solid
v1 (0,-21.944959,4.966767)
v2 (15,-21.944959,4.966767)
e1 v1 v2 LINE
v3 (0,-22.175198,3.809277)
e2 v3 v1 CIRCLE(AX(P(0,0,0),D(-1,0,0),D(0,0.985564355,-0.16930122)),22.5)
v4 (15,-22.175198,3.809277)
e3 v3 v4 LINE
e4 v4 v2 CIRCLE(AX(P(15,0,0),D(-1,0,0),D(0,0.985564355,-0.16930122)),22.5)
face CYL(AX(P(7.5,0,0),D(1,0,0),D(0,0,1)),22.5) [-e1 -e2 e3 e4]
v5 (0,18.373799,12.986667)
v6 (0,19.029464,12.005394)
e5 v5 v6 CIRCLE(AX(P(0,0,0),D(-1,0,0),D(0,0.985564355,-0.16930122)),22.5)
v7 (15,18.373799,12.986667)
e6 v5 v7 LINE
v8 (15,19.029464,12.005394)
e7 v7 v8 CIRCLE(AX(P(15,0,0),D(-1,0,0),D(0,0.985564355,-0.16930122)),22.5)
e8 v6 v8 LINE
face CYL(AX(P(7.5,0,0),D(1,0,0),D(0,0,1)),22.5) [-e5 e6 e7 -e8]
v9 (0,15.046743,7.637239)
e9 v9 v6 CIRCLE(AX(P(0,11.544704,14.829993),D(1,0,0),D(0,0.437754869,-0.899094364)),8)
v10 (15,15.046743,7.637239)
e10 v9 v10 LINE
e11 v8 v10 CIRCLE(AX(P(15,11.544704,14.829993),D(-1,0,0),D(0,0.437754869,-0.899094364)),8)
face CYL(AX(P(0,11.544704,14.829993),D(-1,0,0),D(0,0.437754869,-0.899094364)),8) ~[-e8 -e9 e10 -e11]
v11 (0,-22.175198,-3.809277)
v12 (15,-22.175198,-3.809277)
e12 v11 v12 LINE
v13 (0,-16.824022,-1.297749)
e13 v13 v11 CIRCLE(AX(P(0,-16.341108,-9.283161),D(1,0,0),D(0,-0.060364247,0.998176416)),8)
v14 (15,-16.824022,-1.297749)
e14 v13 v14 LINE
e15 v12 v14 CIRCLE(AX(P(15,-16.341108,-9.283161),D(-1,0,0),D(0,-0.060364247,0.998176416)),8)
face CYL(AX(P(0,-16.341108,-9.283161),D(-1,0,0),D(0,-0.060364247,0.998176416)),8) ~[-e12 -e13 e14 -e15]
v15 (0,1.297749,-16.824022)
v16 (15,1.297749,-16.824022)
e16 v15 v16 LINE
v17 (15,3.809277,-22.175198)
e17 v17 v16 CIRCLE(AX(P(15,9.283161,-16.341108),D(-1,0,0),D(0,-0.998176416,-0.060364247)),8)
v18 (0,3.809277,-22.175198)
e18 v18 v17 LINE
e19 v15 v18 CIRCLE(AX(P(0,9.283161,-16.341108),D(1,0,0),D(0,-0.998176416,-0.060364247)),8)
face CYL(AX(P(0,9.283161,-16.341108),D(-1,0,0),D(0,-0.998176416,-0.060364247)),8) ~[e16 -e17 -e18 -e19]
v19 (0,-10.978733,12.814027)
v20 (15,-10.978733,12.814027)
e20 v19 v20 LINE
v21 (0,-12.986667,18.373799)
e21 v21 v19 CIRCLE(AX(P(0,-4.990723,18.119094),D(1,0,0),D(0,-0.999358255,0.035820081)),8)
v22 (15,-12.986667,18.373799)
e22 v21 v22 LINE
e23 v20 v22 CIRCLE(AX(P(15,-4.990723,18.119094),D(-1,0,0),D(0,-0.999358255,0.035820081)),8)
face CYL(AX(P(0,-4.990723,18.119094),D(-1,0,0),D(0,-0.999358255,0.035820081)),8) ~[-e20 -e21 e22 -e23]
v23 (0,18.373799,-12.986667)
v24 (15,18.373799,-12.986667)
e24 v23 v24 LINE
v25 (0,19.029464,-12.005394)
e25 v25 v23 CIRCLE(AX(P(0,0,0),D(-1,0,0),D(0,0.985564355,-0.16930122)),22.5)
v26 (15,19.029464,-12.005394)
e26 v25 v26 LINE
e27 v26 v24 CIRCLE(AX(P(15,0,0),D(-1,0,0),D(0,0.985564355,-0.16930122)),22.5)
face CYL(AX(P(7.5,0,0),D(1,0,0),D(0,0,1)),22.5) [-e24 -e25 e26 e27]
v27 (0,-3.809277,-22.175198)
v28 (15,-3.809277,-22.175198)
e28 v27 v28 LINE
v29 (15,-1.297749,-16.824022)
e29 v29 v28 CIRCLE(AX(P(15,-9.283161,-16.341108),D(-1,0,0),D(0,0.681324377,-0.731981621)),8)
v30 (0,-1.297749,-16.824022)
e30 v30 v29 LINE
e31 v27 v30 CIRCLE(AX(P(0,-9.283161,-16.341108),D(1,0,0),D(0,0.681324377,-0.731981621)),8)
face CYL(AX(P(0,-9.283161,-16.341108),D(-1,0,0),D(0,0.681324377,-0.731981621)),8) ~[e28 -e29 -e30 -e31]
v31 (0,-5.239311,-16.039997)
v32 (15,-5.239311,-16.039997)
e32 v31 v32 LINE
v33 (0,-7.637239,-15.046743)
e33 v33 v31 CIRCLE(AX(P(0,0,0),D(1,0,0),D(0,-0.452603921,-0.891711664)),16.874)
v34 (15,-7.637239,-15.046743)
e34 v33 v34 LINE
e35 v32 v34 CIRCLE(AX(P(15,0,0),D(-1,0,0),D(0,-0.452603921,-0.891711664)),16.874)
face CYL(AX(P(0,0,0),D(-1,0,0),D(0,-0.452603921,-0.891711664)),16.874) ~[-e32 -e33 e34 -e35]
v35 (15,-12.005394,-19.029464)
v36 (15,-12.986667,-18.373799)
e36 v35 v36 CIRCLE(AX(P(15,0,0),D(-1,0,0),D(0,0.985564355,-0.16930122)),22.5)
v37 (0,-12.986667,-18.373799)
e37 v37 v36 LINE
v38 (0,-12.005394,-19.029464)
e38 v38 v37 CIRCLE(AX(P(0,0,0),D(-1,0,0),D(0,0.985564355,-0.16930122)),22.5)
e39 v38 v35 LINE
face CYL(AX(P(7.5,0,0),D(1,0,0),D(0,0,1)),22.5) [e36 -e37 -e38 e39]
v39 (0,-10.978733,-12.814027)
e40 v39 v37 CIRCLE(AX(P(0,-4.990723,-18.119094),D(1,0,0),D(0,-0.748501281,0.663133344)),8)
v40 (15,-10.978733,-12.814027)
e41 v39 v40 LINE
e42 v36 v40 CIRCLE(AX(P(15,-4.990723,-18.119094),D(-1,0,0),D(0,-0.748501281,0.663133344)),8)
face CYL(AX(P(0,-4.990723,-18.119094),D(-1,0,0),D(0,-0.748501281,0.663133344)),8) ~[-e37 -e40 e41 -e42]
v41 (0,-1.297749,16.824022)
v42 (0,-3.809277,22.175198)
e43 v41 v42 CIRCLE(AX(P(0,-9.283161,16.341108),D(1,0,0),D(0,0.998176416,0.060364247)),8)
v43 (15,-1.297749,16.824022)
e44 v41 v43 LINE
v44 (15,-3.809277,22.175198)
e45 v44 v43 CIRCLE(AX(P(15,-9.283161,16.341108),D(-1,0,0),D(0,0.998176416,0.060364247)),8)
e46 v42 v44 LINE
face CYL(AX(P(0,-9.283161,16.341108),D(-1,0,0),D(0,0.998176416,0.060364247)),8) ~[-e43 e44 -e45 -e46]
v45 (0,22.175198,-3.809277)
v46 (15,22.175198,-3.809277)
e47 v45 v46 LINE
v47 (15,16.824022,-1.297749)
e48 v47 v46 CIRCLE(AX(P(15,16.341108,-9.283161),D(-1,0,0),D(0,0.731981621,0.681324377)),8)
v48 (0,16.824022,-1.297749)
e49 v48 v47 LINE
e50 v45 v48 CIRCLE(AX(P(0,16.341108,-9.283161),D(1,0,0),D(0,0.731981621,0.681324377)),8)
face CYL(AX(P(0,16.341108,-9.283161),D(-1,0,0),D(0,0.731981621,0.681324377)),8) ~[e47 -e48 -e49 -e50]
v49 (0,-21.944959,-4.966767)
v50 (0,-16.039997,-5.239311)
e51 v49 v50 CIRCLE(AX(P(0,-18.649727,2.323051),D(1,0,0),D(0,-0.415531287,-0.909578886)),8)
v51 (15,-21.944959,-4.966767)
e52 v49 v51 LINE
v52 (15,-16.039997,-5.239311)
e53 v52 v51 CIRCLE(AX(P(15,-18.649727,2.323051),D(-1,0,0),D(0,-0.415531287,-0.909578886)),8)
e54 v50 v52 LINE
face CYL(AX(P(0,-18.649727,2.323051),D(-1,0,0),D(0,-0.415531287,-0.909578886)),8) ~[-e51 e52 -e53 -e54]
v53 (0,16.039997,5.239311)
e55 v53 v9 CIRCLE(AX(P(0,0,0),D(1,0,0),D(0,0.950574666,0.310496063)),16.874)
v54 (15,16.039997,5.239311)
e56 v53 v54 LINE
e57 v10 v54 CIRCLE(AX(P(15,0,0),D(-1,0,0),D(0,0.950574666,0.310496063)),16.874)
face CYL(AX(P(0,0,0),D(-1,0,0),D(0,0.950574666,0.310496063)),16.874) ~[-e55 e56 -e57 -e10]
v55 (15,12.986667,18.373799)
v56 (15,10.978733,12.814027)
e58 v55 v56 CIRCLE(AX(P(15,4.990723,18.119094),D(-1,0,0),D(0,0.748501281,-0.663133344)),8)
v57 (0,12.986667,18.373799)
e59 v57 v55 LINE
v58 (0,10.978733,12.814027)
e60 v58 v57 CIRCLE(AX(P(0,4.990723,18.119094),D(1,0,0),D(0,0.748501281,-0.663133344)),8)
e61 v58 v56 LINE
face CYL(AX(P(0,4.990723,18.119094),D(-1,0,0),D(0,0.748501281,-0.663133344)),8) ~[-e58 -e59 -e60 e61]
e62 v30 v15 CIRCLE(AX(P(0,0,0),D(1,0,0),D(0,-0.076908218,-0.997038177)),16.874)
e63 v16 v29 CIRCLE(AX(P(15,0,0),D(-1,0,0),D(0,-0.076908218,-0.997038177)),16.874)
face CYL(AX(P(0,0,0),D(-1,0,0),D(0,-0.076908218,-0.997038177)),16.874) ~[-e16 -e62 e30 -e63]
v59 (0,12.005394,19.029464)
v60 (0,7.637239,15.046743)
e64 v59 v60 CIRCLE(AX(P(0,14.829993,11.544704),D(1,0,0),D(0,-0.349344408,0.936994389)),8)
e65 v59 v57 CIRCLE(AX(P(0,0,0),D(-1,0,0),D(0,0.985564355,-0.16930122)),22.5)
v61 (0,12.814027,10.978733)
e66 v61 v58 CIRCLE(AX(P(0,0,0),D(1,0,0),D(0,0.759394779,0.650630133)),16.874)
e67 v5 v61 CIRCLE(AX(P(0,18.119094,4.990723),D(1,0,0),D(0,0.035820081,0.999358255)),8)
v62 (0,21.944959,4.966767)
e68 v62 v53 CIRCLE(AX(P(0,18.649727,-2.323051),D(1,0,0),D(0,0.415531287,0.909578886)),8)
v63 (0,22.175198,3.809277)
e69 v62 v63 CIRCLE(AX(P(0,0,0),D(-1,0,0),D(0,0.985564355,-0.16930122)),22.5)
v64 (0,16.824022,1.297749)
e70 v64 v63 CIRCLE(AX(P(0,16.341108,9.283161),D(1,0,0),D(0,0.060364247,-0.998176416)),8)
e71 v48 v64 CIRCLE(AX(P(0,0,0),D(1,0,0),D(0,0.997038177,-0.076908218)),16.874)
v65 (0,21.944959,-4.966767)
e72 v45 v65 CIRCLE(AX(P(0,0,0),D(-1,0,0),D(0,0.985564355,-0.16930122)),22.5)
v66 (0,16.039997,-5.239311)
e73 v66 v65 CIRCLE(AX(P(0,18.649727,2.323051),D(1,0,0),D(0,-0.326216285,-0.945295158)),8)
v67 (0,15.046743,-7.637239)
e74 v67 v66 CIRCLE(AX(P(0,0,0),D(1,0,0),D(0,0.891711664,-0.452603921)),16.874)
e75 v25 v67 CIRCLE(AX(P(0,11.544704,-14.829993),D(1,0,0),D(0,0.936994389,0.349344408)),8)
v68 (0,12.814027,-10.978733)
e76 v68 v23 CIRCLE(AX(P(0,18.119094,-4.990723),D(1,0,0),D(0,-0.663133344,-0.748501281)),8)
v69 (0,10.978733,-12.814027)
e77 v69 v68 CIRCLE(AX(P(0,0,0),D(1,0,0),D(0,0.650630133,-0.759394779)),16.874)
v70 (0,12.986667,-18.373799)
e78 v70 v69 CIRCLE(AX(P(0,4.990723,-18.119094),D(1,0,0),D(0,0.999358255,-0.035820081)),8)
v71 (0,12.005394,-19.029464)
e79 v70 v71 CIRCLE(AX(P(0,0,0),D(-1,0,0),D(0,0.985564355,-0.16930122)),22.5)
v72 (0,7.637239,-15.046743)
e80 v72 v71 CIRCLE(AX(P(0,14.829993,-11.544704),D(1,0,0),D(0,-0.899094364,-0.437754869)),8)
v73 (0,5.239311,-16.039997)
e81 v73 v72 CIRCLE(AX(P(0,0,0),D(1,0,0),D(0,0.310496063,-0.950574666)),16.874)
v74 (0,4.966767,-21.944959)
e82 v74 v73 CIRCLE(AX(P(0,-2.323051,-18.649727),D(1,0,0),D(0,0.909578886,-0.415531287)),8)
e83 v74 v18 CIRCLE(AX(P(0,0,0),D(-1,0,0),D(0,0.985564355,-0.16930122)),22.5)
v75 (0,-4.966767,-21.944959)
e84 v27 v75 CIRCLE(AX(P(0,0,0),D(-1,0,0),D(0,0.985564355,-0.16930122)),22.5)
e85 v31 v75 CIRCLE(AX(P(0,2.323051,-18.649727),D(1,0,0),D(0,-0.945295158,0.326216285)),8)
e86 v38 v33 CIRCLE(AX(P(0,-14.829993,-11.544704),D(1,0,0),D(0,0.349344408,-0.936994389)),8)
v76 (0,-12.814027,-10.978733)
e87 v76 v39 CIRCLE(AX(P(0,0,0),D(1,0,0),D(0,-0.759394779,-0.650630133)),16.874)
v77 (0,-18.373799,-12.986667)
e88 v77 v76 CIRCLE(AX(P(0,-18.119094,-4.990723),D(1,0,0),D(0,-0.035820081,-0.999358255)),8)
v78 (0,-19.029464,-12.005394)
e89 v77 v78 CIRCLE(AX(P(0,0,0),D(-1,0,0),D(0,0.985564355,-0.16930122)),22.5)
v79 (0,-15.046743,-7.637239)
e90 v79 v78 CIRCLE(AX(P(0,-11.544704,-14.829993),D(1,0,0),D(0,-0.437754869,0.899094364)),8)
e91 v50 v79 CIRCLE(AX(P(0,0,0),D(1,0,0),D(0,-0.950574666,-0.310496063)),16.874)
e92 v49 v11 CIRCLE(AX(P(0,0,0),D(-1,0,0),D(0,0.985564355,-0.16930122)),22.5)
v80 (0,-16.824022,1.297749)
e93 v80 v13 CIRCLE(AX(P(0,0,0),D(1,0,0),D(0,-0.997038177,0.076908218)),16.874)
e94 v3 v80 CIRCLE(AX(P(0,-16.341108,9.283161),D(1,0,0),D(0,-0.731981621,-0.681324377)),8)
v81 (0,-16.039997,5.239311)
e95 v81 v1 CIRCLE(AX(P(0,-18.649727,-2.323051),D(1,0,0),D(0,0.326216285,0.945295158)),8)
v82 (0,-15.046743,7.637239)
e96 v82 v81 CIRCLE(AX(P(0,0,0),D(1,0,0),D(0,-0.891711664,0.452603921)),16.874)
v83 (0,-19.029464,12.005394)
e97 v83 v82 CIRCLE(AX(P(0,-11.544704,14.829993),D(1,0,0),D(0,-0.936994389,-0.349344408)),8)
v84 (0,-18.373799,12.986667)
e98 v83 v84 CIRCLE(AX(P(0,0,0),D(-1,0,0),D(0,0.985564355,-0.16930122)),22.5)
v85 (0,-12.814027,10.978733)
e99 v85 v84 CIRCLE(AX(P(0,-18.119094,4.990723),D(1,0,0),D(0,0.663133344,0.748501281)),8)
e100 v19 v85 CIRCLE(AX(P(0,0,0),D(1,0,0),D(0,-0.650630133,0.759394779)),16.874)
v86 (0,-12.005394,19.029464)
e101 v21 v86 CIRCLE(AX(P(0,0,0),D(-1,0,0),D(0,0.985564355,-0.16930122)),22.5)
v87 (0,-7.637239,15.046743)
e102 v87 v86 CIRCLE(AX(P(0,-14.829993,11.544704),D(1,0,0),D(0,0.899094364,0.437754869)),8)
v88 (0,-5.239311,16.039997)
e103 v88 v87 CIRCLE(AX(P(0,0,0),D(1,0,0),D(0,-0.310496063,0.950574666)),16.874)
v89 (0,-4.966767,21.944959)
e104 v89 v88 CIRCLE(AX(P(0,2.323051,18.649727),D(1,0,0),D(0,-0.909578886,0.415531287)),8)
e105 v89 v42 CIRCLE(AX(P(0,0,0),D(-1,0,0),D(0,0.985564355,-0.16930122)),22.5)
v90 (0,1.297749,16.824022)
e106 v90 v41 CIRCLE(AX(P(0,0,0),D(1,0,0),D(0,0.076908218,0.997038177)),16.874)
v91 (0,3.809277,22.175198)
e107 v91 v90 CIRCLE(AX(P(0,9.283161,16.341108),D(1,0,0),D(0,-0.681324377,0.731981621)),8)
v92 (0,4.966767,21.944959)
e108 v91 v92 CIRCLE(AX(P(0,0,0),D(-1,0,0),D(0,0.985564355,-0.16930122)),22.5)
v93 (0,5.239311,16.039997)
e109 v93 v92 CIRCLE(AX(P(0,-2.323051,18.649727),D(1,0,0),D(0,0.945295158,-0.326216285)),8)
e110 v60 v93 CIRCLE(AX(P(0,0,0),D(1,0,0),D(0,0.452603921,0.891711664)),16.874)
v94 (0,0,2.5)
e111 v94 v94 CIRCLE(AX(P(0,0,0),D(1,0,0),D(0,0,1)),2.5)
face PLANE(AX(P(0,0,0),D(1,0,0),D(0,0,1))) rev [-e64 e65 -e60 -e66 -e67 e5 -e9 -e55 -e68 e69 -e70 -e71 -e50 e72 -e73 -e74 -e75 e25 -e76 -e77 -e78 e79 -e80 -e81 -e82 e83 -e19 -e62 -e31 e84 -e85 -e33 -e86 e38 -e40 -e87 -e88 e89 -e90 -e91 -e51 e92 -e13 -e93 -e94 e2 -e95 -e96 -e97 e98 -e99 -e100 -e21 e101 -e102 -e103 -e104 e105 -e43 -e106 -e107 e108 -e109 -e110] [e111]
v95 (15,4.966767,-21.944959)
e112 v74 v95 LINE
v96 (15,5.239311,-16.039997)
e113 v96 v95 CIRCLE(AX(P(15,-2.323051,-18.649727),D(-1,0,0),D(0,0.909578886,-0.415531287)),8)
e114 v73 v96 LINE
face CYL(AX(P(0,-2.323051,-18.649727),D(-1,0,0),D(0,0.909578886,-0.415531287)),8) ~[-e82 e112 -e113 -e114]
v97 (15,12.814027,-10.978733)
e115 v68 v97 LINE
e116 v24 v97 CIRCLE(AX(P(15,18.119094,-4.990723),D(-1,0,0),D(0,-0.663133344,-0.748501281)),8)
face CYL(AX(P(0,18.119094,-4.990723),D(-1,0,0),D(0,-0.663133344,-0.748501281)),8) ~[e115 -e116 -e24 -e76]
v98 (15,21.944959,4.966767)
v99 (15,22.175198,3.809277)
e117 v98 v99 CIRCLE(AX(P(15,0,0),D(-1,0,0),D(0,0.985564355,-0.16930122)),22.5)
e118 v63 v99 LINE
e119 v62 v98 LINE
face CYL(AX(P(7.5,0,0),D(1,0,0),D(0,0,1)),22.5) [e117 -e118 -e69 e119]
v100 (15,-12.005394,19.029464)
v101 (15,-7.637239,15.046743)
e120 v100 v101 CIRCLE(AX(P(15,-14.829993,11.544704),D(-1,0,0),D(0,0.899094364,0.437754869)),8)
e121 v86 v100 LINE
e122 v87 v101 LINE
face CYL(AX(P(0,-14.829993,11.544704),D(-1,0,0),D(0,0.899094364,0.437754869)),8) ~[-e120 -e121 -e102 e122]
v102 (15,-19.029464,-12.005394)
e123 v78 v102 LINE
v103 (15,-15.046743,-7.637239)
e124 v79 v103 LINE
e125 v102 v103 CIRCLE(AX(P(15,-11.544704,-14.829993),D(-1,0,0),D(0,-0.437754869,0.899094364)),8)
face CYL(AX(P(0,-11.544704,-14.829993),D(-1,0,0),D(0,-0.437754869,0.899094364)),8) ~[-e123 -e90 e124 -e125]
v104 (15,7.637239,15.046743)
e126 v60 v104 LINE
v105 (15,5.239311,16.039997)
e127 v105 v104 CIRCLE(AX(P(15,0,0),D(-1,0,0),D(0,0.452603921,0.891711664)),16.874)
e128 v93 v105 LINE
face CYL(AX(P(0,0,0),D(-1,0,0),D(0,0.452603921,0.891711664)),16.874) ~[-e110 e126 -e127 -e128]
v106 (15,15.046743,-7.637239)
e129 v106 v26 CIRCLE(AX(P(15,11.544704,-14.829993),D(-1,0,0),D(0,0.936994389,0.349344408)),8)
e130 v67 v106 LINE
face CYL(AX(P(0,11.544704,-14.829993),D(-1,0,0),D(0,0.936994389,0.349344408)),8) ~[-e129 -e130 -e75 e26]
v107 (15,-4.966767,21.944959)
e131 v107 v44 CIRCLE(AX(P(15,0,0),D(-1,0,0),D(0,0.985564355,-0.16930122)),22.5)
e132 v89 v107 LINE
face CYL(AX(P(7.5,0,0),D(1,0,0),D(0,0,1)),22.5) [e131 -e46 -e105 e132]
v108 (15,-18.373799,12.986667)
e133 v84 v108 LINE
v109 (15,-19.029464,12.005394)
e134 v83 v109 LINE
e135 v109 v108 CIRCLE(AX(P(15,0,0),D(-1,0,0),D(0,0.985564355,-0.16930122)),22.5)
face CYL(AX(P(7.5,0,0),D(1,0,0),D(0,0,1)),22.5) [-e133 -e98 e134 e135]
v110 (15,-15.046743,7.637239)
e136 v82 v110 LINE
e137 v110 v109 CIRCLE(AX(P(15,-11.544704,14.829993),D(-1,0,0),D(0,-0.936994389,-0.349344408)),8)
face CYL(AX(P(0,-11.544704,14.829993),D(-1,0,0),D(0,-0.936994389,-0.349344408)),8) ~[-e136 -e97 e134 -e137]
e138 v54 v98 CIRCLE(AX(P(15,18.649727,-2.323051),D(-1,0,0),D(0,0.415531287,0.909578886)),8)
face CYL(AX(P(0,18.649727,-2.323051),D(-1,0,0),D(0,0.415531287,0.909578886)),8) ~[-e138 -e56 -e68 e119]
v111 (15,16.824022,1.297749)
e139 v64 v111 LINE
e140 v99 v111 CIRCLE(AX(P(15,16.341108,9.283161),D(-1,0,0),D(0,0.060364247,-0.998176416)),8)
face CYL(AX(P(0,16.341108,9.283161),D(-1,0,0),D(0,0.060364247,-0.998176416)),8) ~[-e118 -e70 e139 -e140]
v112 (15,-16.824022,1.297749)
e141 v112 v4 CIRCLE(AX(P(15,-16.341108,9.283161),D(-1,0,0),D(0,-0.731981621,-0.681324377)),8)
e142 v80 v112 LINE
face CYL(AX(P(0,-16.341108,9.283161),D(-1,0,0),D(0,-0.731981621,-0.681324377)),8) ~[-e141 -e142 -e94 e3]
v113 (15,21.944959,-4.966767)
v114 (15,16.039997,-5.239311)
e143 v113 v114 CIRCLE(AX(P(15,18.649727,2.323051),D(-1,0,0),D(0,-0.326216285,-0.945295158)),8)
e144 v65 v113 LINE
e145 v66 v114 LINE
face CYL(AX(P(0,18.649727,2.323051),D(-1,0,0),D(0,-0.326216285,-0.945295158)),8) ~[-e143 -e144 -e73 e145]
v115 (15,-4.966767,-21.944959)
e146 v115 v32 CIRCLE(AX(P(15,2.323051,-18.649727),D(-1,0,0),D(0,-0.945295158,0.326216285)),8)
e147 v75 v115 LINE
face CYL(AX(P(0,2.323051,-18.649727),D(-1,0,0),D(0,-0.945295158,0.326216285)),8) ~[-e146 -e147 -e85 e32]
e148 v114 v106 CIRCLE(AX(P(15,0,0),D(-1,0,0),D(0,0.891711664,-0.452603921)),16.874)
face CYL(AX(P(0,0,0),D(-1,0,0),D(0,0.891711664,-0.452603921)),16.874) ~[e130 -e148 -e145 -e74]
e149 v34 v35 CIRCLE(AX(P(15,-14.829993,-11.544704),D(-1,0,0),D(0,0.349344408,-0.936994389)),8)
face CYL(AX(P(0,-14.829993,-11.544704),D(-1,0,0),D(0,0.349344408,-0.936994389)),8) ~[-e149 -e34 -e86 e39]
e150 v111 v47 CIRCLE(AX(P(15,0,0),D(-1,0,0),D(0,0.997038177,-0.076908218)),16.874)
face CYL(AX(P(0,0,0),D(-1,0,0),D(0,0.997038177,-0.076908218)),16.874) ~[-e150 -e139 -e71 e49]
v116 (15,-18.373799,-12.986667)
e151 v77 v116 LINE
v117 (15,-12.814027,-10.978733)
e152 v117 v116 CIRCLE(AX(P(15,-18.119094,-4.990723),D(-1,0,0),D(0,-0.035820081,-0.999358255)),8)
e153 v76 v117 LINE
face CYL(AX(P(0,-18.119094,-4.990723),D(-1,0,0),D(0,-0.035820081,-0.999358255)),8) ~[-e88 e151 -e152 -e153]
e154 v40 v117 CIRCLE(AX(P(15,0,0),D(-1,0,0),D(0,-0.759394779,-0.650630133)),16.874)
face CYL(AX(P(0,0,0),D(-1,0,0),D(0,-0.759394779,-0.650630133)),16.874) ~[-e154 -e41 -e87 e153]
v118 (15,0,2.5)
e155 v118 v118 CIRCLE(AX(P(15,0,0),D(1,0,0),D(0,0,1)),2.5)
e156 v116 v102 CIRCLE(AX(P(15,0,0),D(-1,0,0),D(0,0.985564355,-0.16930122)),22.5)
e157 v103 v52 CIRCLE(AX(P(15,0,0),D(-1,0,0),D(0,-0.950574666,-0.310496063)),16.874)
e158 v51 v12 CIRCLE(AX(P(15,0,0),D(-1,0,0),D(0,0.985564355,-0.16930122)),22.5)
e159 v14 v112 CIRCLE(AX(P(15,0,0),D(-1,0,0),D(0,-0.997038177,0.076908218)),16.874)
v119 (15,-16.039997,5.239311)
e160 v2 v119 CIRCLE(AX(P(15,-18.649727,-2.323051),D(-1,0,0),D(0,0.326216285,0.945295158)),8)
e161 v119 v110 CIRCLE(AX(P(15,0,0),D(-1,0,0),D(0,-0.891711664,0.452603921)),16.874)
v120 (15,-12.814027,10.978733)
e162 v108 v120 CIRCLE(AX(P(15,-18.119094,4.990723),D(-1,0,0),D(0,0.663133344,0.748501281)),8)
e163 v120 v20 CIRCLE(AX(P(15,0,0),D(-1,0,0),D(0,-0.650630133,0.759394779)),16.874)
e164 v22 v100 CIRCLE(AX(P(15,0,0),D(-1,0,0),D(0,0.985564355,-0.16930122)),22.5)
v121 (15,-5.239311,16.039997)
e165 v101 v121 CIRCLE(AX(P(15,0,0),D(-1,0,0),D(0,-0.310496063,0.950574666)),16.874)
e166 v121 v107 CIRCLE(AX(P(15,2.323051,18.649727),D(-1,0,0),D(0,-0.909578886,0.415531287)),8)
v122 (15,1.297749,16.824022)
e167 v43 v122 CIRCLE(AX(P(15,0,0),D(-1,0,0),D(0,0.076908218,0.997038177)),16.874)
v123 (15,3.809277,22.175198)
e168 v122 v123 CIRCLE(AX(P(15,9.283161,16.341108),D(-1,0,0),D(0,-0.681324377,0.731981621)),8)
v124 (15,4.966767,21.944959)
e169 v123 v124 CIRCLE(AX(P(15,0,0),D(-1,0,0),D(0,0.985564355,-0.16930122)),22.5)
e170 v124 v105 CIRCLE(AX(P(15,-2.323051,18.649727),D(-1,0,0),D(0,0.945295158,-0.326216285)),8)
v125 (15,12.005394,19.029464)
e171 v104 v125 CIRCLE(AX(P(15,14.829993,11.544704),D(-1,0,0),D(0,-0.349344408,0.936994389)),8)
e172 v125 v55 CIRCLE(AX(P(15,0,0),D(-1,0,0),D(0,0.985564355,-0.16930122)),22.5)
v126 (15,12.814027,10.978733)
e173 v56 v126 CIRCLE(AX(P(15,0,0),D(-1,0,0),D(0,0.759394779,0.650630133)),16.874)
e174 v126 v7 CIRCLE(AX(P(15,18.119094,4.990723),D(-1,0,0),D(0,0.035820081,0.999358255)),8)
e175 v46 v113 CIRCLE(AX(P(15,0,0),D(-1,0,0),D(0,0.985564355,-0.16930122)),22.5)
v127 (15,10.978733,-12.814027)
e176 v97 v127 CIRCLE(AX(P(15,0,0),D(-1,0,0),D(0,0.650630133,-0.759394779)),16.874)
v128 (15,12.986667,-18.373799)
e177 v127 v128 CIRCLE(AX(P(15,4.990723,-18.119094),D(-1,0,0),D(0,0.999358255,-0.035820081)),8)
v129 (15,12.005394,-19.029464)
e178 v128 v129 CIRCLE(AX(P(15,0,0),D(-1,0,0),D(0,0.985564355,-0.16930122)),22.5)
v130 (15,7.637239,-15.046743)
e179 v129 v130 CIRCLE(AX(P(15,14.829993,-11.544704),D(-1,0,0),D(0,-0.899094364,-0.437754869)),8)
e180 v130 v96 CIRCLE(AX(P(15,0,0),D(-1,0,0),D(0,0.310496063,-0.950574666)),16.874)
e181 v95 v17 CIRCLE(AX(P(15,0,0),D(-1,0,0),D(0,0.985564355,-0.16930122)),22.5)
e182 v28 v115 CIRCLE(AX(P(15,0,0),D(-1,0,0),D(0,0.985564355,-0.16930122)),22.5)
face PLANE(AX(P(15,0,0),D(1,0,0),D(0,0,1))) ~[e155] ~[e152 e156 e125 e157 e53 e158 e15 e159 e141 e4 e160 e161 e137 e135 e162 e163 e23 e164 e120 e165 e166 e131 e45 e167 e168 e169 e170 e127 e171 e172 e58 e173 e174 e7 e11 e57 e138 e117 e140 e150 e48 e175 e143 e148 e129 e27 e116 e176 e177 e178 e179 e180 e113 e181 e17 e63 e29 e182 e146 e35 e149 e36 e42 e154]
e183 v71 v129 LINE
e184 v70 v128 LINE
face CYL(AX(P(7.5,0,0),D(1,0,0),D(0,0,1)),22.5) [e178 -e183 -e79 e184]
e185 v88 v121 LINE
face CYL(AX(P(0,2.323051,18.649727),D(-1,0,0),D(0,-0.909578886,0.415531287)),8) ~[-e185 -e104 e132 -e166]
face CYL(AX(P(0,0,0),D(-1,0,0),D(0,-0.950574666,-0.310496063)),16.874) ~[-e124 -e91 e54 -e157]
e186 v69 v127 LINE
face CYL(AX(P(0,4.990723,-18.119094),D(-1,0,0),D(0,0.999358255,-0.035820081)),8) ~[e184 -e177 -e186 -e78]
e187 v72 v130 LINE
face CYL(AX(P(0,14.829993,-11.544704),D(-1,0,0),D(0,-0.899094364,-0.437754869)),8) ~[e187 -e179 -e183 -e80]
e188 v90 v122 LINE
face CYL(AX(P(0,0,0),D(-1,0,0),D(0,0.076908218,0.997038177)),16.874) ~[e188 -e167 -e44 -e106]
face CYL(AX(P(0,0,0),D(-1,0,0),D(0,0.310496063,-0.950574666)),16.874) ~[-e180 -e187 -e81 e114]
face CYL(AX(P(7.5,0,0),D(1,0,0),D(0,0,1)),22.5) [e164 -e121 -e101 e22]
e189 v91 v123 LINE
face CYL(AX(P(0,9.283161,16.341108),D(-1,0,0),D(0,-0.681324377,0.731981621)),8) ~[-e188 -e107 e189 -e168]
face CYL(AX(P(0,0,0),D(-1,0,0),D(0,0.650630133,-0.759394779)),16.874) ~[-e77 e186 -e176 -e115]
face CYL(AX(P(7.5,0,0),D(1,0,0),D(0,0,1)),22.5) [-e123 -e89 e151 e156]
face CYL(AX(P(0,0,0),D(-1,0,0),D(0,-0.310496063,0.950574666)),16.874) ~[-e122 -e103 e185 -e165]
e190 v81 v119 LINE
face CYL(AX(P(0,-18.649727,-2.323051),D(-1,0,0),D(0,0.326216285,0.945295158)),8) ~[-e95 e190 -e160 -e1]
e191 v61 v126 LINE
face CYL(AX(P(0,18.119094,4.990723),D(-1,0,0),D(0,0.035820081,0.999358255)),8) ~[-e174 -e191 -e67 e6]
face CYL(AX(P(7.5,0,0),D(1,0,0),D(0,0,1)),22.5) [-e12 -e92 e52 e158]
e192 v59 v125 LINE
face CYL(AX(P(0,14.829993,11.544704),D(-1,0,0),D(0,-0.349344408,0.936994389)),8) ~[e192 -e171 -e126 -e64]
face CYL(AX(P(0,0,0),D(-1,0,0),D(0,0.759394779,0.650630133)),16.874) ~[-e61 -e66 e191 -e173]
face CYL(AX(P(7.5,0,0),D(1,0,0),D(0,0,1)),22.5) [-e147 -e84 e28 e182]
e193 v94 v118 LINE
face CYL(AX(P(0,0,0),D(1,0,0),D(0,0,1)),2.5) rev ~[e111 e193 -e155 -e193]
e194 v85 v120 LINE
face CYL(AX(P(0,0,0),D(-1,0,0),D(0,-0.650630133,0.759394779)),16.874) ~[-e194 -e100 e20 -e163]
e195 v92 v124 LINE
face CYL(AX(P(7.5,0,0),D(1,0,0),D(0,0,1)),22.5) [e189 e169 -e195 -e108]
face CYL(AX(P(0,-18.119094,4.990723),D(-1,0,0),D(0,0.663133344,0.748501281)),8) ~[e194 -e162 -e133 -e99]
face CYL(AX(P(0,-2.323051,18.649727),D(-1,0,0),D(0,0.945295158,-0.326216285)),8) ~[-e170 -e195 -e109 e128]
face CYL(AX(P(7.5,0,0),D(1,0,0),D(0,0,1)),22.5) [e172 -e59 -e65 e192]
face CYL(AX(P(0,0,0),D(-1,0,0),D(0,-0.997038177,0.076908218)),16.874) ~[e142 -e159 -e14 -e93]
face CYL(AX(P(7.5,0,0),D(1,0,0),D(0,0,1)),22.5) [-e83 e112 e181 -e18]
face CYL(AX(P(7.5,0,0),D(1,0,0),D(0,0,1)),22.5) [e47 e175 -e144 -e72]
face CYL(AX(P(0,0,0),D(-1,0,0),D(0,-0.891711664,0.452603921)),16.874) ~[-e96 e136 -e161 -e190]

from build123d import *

# Parameters (mm, degrees)
BASPROSKE_W     = 15
BASPROSKE_H     = 22.5
TOOTHCUT_DEPTH  = 36.178118199
TEETHCUTS_COUNT = 16
TEETHCUTS_ANGLE = 337.5
BORSKE_R        = 2.5
BORE_DEPTH      = 50.0000508


with BuildPart() as part:
    # BasProSke → Base-Revolve (revolve)
    with BuildSketch(Plane(origin=(0, 0, 0), x_dir=(1, 0, 0), z_dir=(0, 1, 0)), mode=Mode.PRIVATE) as base_revolve_sk:
        with Locations((7.5, 11.25)):
            Rectangle(BASPROSKE_W, BASPROSKE_H)
    revolve(base_revolve_sk.sketch.rotate(Axis((-10, 0, 0), (1, 0, 0)), 180), axis=Axis((-10, 0, 0), (1, 0, 0)))

    # TooCutSke → ToothCut (cut, through all)
    with BuildSketch(Plane(origin=(0, 0, 0), x_dir=(0, 0, -1), z_dir=(1, 0, 0))):
        with BuildLine():
            ThreePointArc((1.297749273, 16.824022195), (0, 16.874), (-1.297749273, 16.824022195))
            ThreePointArc((-1.297749273, 16.824022195), (-2.047921493, 19.754510488), (-3.832565589, 22.196961192))
            ThreePointArc((-3.832565589, 22.196961192), (0, 22.5254), (3.832565589, 22.196961192))
            ThreePointArc((3.832565589, 22.196961192), (2.047921493, 19.754510488), (1.297749273, 16.824022195))
        make_face()
    toothcut = extrude(amount=TOOTHCUT_DEPTH, mode=Mode.SUBTRACT)

    # TeethCuts: ToothCut ×16 about axis
    teethcuts_axis = Axis((-10, 0, 0), (1, 0, 0))
    for i in range(1, TEETHCUTS_COUNT):
        add(toothcut.rotate(teethcuts_axis, i * TEETHCUTS_ANGLE / (TEETHCUTS_COUNT - 1)), mode=Mode.SUBTRACT)

    # BorSke → Bore (cut, symmetric)
    with BuildSketch(Plane(origin=(0, 0, 0), x_dir=(0, 0, -1), z_dir=(1, 0, 0))):
        with Locations(Location((0, 0, 0), (0, 0, 180))):
            Circle(BORSKE_R)
    extrude(amount=BORE_DEPTH, both=True, mode=Mode.SUBTRACT)


solid = part.part
